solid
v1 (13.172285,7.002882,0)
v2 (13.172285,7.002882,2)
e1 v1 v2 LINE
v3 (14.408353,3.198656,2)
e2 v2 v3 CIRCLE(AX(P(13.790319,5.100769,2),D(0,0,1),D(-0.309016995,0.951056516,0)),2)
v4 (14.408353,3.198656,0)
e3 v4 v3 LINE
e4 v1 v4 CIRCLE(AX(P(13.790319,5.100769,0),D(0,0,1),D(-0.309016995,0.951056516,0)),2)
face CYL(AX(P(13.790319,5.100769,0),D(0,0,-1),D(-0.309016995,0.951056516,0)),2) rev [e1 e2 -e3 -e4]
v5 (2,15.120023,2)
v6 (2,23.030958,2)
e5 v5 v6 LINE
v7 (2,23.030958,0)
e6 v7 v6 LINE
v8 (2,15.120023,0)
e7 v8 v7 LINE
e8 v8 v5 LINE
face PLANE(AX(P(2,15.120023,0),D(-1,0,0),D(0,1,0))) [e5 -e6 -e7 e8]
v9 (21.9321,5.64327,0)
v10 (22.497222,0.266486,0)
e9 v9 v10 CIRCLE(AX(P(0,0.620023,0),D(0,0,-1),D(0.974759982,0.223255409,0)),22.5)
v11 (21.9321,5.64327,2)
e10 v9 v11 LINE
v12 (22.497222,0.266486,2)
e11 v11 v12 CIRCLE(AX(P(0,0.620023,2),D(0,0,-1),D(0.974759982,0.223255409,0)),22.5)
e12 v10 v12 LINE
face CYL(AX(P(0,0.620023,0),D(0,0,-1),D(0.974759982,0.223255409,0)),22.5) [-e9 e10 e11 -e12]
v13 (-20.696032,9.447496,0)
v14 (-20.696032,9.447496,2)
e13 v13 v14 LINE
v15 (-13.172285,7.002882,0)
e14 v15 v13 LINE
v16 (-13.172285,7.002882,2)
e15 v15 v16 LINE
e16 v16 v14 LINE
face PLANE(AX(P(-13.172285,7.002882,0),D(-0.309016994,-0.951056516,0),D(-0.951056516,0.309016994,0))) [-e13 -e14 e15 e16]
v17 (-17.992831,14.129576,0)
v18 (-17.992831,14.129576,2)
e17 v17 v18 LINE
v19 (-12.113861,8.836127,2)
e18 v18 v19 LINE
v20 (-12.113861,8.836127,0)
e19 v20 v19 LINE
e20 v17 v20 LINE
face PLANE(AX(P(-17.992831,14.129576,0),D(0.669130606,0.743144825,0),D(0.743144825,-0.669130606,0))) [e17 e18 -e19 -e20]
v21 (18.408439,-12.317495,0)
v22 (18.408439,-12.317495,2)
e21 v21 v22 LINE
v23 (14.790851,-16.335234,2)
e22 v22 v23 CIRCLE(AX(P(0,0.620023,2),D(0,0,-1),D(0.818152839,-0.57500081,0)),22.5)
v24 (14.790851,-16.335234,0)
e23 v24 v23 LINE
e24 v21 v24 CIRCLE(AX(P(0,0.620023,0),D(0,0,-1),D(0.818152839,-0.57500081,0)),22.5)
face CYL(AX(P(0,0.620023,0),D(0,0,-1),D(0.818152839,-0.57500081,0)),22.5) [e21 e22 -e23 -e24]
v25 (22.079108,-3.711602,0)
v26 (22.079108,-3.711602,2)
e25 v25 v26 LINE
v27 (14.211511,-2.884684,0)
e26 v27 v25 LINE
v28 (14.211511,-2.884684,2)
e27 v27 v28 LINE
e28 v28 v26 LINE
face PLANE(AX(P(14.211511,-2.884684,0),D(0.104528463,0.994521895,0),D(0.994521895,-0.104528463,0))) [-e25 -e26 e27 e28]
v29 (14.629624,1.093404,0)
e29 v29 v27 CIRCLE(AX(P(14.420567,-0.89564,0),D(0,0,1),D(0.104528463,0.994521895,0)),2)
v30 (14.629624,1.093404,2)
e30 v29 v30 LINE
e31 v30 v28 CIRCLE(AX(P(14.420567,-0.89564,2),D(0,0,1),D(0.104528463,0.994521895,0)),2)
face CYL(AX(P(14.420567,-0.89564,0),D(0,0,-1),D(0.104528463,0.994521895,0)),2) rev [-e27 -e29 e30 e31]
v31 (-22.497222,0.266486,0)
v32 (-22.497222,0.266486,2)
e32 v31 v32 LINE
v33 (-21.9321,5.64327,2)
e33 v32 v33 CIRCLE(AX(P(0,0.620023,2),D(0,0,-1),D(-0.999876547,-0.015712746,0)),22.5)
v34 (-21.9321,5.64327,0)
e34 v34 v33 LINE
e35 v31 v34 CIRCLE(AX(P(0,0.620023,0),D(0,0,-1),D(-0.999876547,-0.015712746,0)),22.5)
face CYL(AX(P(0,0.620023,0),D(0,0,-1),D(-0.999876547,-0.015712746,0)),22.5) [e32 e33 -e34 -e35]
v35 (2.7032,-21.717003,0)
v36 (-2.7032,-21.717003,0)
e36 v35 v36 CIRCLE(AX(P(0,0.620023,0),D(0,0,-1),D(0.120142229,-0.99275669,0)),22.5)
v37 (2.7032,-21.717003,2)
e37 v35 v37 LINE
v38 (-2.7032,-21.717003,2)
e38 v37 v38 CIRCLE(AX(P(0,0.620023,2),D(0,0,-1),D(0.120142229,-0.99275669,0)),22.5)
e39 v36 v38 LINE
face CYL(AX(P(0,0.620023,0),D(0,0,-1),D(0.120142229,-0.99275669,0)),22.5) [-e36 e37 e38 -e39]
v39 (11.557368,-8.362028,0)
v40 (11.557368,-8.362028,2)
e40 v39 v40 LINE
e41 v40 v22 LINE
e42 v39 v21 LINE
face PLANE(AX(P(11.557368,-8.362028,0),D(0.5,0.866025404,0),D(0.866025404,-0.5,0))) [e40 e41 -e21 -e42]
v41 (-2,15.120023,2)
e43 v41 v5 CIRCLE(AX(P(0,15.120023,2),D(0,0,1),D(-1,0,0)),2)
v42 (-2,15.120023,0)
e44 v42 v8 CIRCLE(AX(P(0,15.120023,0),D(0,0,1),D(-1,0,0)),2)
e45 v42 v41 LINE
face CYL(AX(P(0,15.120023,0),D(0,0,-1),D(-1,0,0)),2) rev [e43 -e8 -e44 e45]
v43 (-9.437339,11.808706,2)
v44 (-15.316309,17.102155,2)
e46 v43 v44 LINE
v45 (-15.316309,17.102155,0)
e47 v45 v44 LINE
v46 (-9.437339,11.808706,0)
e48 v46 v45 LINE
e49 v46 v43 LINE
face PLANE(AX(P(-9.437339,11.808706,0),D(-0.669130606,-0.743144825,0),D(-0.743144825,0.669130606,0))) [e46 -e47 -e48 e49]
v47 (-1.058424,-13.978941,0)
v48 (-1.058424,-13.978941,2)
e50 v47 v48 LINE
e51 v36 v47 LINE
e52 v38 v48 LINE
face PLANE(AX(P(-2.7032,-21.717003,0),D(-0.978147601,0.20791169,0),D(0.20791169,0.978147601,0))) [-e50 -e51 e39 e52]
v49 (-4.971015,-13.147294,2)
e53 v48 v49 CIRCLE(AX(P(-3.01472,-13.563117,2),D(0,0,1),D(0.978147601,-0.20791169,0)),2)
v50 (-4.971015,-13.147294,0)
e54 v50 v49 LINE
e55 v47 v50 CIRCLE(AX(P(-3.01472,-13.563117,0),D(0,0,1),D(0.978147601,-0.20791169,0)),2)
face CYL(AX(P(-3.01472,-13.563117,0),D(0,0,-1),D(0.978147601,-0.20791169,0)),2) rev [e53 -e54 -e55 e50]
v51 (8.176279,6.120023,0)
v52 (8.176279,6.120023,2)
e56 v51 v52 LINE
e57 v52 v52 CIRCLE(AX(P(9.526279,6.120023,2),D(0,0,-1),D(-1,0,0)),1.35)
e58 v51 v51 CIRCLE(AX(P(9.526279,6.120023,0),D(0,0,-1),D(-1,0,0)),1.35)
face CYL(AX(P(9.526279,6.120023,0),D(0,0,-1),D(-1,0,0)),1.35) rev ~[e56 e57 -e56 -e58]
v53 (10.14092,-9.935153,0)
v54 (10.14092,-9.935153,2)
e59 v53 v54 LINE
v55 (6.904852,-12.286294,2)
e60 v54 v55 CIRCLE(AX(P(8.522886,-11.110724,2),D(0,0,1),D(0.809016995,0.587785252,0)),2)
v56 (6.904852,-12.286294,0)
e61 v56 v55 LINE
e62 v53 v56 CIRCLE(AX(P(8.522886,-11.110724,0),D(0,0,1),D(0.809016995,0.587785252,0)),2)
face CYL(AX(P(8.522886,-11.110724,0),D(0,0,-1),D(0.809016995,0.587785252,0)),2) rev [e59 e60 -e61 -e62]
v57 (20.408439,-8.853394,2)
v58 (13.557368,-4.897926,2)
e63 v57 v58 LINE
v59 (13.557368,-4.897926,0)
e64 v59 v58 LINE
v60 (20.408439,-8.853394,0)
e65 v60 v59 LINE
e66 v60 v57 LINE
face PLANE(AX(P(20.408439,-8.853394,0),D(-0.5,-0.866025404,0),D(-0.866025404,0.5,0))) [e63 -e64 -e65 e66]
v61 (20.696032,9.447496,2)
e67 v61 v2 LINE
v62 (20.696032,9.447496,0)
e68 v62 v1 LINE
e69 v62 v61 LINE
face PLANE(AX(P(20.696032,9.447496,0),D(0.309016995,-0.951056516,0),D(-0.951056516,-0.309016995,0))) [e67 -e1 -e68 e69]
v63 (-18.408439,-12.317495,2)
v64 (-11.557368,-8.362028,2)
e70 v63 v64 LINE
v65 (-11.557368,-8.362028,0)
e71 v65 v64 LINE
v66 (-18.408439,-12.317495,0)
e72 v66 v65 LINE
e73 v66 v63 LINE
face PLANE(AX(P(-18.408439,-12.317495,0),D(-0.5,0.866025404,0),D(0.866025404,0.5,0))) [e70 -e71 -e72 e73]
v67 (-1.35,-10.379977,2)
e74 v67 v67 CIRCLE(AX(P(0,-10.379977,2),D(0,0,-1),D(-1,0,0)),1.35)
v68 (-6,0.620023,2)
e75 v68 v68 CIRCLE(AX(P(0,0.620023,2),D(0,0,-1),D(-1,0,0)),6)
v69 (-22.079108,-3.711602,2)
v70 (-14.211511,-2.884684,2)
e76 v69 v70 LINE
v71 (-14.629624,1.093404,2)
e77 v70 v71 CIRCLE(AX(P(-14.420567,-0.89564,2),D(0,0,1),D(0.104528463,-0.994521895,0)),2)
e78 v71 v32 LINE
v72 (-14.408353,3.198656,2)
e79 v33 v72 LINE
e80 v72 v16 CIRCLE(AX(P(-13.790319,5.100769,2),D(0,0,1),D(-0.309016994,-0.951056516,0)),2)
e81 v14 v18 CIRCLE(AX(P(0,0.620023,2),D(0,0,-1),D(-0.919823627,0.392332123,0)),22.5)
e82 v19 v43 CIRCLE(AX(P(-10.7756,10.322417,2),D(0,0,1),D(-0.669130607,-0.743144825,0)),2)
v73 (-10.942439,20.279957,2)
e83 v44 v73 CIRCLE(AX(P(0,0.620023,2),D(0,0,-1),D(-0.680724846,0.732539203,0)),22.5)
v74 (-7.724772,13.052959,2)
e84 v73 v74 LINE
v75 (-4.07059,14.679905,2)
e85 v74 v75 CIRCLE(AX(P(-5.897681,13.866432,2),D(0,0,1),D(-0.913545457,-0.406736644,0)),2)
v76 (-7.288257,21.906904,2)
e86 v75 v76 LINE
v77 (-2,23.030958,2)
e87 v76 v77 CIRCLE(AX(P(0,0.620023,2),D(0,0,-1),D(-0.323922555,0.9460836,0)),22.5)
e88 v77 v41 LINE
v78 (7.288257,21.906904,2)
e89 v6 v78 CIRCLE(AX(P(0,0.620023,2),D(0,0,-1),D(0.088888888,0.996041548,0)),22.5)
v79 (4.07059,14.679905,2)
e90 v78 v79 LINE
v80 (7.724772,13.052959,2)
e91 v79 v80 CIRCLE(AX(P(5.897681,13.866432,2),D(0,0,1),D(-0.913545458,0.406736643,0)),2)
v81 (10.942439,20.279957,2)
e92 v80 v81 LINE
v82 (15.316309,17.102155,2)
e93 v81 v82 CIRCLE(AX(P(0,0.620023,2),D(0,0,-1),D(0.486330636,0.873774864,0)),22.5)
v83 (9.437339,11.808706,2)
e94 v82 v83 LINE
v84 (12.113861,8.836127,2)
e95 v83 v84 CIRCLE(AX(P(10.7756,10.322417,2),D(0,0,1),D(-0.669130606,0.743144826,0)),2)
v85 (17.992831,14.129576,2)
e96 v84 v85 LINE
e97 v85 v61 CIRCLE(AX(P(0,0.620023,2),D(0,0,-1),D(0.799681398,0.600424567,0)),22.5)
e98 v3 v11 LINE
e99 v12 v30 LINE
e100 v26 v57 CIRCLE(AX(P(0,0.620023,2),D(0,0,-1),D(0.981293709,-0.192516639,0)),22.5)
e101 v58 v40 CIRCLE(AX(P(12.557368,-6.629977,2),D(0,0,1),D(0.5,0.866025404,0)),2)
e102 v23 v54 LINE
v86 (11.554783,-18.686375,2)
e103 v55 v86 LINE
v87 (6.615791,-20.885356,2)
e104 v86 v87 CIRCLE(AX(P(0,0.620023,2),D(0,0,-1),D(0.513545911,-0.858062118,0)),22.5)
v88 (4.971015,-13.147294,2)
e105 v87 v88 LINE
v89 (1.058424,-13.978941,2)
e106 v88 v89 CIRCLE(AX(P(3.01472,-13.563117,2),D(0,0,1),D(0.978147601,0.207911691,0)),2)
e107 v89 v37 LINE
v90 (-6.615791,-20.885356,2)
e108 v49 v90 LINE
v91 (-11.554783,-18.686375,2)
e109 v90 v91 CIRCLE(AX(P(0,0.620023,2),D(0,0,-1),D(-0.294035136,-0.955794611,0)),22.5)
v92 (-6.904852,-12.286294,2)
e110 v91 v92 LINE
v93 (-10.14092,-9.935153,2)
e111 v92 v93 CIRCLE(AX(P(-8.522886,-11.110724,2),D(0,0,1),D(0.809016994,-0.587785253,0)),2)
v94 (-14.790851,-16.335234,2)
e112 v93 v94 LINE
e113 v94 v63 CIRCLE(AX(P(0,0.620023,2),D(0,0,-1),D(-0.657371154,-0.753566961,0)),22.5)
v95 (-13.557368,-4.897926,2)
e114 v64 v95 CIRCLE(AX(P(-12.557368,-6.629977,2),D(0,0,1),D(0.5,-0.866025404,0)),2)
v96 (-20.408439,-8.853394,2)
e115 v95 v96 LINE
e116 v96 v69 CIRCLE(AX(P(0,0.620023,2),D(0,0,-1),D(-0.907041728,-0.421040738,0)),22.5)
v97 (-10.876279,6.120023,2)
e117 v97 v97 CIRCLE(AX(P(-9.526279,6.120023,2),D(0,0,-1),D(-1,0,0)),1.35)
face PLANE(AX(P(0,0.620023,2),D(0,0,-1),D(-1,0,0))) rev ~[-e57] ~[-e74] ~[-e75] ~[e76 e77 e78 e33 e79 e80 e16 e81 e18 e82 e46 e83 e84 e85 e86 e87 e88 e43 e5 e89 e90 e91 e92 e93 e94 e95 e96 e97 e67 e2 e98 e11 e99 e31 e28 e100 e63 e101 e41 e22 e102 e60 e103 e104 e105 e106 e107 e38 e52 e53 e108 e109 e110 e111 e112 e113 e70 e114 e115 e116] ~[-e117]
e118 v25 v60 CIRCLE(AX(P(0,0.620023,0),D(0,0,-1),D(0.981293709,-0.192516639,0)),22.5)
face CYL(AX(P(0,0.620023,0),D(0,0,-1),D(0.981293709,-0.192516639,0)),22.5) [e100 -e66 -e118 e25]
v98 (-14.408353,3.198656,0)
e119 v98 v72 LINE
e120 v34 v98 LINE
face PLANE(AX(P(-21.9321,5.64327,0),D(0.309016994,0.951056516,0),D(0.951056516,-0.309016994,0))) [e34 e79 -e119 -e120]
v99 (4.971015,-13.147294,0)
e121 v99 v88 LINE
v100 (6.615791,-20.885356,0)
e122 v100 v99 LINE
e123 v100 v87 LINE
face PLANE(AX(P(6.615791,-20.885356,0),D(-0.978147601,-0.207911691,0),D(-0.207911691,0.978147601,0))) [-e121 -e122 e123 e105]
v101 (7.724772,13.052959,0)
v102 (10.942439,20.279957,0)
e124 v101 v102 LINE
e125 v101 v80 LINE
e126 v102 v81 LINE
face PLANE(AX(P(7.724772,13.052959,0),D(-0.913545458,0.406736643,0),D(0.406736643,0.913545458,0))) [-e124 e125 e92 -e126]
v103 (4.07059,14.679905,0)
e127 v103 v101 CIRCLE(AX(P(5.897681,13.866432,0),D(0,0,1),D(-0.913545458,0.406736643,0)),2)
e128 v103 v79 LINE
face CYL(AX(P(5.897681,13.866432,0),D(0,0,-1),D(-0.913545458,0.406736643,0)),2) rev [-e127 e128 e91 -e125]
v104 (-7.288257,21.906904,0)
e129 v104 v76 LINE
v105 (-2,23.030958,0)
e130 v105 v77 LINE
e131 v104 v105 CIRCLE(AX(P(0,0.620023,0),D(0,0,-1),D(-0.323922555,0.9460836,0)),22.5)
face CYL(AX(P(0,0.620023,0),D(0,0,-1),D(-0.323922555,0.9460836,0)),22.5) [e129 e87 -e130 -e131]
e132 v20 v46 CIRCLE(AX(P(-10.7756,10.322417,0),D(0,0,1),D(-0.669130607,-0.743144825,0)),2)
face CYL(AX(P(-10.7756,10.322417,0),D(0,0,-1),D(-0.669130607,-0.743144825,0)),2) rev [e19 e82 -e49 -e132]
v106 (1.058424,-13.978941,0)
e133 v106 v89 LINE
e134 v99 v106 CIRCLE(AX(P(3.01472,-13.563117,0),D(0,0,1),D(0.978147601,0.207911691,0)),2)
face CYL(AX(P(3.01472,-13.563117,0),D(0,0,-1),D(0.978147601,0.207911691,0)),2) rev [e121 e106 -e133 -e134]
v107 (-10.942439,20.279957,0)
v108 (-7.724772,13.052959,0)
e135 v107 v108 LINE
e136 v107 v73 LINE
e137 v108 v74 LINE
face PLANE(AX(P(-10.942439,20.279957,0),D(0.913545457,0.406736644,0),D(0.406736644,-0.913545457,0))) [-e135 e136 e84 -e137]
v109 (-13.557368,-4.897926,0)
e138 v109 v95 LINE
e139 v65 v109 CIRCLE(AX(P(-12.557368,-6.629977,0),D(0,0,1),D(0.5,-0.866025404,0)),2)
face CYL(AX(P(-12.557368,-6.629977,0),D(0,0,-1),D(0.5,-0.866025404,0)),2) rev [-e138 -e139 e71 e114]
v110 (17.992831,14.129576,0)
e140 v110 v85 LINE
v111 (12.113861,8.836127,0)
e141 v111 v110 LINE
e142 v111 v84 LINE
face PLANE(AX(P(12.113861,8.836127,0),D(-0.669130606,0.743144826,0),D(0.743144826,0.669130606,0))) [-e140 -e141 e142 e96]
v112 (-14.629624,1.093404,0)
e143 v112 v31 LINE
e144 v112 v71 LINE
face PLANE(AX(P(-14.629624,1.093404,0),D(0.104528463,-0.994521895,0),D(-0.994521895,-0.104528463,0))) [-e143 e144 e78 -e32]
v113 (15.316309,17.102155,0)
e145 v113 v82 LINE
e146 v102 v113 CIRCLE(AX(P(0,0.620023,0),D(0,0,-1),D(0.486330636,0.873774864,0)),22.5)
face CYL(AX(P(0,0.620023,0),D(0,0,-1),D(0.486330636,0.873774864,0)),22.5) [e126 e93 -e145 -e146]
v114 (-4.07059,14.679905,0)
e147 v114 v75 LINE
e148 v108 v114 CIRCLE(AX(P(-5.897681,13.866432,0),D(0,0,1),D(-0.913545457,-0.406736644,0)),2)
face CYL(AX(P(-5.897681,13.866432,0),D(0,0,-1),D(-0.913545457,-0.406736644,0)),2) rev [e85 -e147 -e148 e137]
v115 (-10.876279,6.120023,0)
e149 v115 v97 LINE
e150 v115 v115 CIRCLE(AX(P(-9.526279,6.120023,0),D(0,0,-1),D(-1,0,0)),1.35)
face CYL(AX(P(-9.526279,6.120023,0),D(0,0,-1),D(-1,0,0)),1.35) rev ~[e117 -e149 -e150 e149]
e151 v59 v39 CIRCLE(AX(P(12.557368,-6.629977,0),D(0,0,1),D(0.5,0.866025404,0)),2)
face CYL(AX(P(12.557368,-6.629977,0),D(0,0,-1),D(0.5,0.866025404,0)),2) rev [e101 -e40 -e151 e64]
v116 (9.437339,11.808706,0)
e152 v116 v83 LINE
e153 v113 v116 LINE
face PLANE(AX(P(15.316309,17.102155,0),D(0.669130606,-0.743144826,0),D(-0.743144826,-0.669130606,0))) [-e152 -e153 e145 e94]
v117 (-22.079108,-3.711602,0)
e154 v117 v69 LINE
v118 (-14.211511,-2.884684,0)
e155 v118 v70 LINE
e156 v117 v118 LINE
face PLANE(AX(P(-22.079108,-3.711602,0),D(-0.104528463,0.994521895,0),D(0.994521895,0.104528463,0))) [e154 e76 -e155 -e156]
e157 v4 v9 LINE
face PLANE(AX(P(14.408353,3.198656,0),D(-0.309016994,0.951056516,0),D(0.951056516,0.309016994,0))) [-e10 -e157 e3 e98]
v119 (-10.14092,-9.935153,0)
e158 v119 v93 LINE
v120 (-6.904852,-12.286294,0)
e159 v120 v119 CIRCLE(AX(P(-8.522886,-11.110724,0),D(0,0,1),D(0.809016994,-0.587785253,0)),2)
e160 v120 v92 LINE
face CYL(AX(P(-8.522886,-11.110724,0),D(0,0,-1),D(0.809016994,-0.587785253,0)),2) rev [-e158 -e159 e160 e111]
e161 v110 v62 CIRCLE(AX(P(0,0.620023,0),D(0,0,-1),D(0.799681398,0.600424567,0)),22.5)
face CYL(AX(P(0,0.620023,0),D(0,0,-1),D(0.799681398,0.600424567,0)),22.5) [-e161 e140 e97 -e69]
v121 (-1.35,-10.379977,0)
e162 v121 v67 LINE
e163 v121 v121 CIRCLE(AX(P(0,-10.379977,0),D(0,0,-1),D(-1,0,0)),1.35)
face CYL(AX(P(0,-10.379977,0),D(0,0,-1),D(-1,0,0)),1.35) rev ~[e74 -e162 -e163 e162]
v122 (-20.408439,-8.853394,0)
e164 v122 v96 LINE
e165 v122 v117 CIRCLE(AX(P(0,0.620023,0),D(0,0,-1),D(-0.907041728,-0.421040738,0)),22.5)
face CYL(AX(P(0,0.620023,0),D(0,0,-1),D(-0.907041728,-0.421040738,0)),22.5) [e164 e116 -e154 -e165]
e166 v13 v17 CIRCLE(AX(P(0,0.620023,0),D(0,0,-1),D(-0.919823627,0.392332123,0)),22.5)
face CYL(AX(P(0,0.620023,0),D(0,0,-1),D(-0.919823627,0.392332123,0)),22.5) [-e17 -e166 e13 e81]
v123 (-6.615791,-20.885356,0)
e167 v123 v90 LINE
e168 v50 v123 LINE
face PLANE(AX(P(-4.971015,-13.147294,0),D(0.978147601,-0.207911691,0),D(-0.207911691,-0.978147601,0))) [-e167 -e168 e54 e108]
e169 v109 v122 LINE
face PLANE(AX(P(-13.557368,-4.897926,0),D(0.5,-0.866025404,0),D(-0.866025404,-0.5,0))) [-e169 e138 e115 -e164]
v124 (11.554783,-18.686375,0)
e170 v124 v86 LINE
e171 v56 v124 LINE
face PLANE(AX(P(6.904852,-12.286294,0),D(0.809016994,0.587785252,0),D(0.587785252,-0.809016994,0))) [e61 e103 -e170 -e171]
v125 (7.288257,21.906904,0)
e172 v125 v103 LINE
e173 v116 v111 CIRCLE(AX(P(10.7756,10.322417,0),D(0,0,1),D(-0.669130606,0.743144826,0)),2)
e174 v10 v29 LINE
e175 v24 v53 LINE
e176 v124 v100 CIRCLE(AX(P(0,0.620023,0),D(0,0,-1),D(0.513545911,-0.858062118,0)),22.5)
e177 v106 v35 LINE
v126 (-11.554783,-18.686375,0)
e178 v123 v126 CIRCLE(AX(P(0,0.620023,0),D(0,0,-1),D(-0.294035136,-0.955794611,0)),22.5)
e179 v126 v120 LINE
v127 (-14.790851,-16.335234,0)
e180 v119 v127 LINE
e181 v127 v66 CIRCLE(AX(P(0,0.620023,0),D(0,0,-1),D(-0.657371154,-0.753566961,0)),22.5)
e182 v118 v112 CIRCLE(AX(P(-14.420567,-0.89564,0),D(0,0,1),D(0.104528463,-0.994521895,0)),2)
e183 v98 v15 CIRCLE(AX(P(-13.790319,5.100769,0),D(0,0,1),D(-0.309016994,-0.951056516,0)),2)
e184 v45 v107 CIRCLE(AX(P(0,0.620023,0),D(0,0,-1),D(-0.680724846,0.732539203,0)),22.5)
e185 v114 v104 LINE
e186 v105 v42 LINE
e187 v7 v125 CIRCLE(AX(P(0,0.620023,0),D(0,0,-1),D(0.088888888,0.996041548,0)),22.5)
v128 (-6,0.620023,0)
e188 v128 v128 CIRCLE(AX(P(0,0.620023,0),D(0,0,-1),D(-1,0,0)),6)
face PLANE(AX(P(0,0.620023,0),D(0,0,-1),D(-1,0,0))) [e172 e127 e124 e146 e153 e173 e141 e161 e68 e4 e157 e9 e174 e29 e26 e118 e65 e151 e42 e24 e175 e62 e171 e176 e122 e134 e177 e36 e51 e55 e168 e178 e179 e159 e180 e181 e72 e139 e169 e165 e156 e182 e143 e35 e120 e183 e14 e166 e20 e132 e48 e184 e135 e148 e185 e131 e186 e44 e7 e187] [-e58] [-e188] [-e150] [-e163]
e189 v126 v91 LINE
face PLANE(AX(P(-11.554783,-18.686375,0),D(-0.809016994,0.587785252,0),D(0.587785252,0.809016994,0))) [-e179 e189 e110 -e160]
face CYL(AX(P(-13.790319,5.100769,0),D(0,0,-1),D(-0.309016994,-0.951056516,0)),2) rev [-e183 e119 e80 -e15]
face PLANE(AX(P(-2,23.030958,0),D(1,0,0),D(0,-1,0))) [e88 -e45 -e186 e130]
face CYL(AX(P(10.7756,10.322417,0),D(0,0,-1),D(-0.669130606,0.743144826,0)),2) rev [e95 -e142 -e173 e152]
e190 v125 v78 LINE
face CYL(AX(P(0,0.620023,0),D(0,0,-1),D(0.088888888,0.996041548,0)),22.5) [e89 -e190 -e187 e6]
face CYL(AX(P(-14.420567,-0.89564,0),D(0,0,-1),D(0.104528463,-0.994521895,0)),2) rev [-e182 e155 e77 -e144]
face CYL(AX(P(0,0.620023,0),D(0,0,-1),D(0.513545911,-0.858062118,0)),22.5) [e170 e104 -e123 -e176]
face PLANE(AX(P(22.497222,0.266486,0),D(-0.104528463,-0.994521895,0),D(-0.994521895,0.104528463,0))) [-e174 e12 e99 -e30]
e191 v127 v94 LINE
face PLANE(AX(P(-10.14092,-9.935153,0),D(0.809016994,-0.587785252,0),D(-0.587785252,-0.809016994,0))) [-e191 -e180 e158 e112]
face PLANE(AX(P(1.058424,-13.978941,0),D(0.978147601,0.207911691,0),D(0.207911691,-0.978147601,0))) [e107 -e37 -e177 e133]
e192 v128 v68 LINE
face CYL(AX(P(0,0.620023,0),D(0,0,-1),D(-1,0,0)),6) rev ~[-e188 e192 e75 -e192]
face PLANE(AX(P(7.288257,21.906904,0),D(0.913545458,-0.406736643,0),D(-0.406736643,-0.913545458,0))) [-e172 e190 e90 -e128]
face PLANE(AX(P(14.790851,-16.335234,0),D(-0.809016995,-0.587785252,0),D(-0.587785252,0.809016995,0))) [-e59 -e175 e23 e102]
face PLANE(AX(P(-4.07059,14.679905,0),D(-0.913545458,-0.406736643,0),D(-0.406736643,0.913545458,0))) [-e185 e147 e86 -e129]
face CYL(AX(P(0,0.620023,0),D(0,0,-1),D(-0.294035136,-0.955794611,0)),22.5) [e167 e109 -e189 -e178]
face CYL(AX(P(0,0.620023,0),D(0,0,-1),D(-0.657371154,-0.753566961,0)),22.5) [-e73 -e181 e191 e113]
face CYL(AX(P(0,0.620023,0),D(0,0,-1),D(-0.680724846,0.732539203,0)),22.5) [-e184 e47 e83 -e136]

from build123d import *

# Parameters (mm, degrees)
SKETCH1_R           = 1.35
SKETCH1_R_2         = 6
BOSS_EXTRUDE1_DEPTH = 2


with BuildPart() as part:
    # Sketch1 → Boss-Extrude1 (new body)
    with BuildSketch(Plane(origin=(0, 0, 0), x_dir=(-1, 0, 0), z_dir=(0, 0, -1))):
        with BuildLine():
            Line((-15.316309042, 17.102154929), (-9.437338757, 11.808706309))
            ThreePointArc((-9.437338757, 11.808706309), (-9.289310319, 8.984155445), (-12.113861182, 8.836127007))
            Line((-12.113861182, 8.836127007), (-17.992831467, 14.129575627))
            ThreePointArc((-17.992831467, 14.129575627), (-19.485571585, 11.870022867), (-20.696031618, 9.447495623))
            Line((-20.696031618, 9.447495623), (-13.172285497, 7.002882316))
            ThreePointArc((-13.172285497, 7.002882316), (-11.888206454, 4.482735294), (-14.408353475, 3.198656251))
            Line((-14.408353475, 3.198656251), (-21.932099596, 5.643269556))
            ThreePointArc((-21.932099596, 5.643269556), (-22.376742646, 2.971913289), (-22.497222312, 0.266486078))
            Line((-22.497222312, 0.266486078), (-14.62962441, 1.093403939))
            ThreePointArc((-14.62962441, 1.093403939), (-12.431523692, -0.686582926), (-14.211510557, -2.884683643))
            Line((-14.211510557, -2.884683643), (-22.079108459, -3.711601503))
            ThreePointArc((-22.079108459, -3.711601503), (-21.398771617, -6.332859507), (-20.408438887, -8.853393742))
            Line((-20.408438887, -8.853393742), (-13.557368355, -4.897926326))
            ThreePointArc((-13.557368355, -4.897926326), (-10.825317547, -5.629977134), (-11.557368355, -8.362027942))
            Line((-11.557368355, -8.362027942), (-18.408438886, -12.317495358))
            ThreePointArc((-18.408438886, -12.317495358), (-16.720758571, -14.435415779), (-14.790850969, -16.335233771))
            Line((-14.790850969, -16.335233771), (-10.140920148, -9.935153049))
            ThreePointArc((-10.140920148, -9.935153049), (-7.347315654, -9.492689564), (-6.90485217, -12.286294058))
            Line((-6.90485217, -12.286294058), (-11.554782995, -18.686374777))
            ThreePointArc((-11.554782995, -18.686374777), (-9.151574469, -19.934749931), (-6.615790555, -20.885355888))
            Line((-6.615790555, -20.885355888), (-4.971014718, -13.147293963))
            ThreePointArc((-4.971014718, -13.147293963), (-2.598896135, -11.606822144), (-1.058424316, -13.978940727))
            Line((-1.058424316, -13.978940727), (-2.703200152, -21.717002651))
            ThreePointArc((-2.703200152, -21.717002651), (-3e-09, -21.879977134), (2.703200146, -21.717002651))
            Line((2.703200146, -21.717002651), (1.058424314, -13.978940725))
            ThreePointArc((1.058424314, -13.978940725), (2.598896135, -11.606822143), (4.971014718, -13.147293963))
            Line((4.971014718, -13.147293963), (6.615790554, -20.885355888))
            ThreePointArc((6.615790554, -20.885355888), (9.151574469, -19.934749931), (11.554782995, -18.686374777))
            Line((11.554782995, -18.686374777), (6.904852169, -12.286294058))
            ThreePointArc((6.904852169, -12.286294058), (7.347315653, -9.492689564), (10.140920146, -9.935153048))
            Line((10.140920146, -9.935153048), (14.790850972, -16.335233768))
            ThreePointArc((14.790850972, -16.335233768), (16.720758571, -14.435415779), (18.408438883, -12.317495361))
            Line((18.408438883, -12.317495361), (11.557368352, -8.362027946))
            ThreePointArc((11.557368352, -8.362027946), (10.825317543, -5.629977135), (13.557368354, -4.897926327))
            Line((13.557368354, -4.897926327), (20.408438886, -8.853393742))
            ThreePointArc((20.408438886, -8.853393742), (21.398771616, -6.332859507), (22.079108458, -3.711601502))
            Line((22.079108458, -3.711601502), (14.211510556, -2.884683643))
            ThreePointArc((14.211510556, -2.884683643), (12.431523691, -0.686582926), (14.629624409, 1.093403939))
            Line((14.629624409, 1.093403939), (22.497222311, 0.266486078))
            ThreePointArc((22.497222311, 0.266486078), (22.376742645, 2.971913287), (21.932099596, 5.643269552))
            Line((21.932099596, 5.643269552), (14.408353473, 3.19865625))
            ThreePointArc((14.408353473, 3.19865625), (11.888206452, 4.482735295), (13.172285497, 7.002882316))
            Line((13.172285497, 7.002882316), (20.696031618, 9.447495621))
            ThreePointArc((20.696031618, 9.447495621), (19.485571584, 11.870022866), (17.992831465, 14.129575628))
            Line((17.992831465, 14.129575628), (12.113861182, 8.836127007))
            ThreePointArc((12.113861182, 8.836127007), (9.289310318, 8.984155445), (9.437338756, 11.808706308))
            Line((9.437338756, 11.808706308), (15.316309041, 17.102154929))
            ThreePointArc((15.316309041, 17.102154929), (13.225168178, 18.822905238), (10.94243932, 20.279957294))
            Line((10.94243932, 20.279957294), (7.724772239, 13.052958714))
            ThreePointArc((7.724772239, 13.052958714), (5.084208037, 12.039341086), (4.070590408, 14.679905287))
            Line((4.070590408, 14.679905287), (7.288257486, 21.906903868))
            ThreePointArc((7.288257486, 21.906903868), (4.67801304, 22.628343883), (1.999999993, 23.030957697))
            Line((1.999999993, 23.030957697), (1.999999993, 15.120022866))
            ThreePointArc((1.999999993, 15.120022866), (-1e-09, 13.120022872), (-1.999999995, 15.120022866))
            Line((-1.999999995, 15.120022866), (-1.999999995, 23.030957697))
            ThreePointArc((-1.999999995, 23.030957697), (-4.67801304, 22.628343883), (-7.288257483, 21.906903869))
            Line((-7.288257483, 21.906903869), (-4.070590409, 14.679905287))
            ThreePointArc((-4.070590409, 14.679905287), (-5.084208039, 12.039341085), (-7.72477224, 13.052958715))
            Line((-7.72477224, 13.052958715), (-10.942439317, 20.279957296))
            ThreePointArc((-10.942439317, 20.279957296), (-13.225168177, 18.822905239), (-15.316309042, 17.102154929))
        make_face()
        with Locations((9.526279442, 6.120022866)):
            Circle(SKETCH1_R, mode=Mode.SUBTRACT)
        with Locations((-9.526279442, 6.120022866)):
            Circle(SKETCH1_R, mode=Mode.SUBTRACT)
        with Locations((0, -10.379977134)):
            Circle(SKETCH1_R, mode=Mode.SUBTRACT)
        with Locations((0, 0.620022866)):
            Circle(SKETCH1_R_2, mode=Mode.SUBTRACT)
    extrude(amount=-BOSS_EXTRUDE1_DEPTH)


solid = part.part
